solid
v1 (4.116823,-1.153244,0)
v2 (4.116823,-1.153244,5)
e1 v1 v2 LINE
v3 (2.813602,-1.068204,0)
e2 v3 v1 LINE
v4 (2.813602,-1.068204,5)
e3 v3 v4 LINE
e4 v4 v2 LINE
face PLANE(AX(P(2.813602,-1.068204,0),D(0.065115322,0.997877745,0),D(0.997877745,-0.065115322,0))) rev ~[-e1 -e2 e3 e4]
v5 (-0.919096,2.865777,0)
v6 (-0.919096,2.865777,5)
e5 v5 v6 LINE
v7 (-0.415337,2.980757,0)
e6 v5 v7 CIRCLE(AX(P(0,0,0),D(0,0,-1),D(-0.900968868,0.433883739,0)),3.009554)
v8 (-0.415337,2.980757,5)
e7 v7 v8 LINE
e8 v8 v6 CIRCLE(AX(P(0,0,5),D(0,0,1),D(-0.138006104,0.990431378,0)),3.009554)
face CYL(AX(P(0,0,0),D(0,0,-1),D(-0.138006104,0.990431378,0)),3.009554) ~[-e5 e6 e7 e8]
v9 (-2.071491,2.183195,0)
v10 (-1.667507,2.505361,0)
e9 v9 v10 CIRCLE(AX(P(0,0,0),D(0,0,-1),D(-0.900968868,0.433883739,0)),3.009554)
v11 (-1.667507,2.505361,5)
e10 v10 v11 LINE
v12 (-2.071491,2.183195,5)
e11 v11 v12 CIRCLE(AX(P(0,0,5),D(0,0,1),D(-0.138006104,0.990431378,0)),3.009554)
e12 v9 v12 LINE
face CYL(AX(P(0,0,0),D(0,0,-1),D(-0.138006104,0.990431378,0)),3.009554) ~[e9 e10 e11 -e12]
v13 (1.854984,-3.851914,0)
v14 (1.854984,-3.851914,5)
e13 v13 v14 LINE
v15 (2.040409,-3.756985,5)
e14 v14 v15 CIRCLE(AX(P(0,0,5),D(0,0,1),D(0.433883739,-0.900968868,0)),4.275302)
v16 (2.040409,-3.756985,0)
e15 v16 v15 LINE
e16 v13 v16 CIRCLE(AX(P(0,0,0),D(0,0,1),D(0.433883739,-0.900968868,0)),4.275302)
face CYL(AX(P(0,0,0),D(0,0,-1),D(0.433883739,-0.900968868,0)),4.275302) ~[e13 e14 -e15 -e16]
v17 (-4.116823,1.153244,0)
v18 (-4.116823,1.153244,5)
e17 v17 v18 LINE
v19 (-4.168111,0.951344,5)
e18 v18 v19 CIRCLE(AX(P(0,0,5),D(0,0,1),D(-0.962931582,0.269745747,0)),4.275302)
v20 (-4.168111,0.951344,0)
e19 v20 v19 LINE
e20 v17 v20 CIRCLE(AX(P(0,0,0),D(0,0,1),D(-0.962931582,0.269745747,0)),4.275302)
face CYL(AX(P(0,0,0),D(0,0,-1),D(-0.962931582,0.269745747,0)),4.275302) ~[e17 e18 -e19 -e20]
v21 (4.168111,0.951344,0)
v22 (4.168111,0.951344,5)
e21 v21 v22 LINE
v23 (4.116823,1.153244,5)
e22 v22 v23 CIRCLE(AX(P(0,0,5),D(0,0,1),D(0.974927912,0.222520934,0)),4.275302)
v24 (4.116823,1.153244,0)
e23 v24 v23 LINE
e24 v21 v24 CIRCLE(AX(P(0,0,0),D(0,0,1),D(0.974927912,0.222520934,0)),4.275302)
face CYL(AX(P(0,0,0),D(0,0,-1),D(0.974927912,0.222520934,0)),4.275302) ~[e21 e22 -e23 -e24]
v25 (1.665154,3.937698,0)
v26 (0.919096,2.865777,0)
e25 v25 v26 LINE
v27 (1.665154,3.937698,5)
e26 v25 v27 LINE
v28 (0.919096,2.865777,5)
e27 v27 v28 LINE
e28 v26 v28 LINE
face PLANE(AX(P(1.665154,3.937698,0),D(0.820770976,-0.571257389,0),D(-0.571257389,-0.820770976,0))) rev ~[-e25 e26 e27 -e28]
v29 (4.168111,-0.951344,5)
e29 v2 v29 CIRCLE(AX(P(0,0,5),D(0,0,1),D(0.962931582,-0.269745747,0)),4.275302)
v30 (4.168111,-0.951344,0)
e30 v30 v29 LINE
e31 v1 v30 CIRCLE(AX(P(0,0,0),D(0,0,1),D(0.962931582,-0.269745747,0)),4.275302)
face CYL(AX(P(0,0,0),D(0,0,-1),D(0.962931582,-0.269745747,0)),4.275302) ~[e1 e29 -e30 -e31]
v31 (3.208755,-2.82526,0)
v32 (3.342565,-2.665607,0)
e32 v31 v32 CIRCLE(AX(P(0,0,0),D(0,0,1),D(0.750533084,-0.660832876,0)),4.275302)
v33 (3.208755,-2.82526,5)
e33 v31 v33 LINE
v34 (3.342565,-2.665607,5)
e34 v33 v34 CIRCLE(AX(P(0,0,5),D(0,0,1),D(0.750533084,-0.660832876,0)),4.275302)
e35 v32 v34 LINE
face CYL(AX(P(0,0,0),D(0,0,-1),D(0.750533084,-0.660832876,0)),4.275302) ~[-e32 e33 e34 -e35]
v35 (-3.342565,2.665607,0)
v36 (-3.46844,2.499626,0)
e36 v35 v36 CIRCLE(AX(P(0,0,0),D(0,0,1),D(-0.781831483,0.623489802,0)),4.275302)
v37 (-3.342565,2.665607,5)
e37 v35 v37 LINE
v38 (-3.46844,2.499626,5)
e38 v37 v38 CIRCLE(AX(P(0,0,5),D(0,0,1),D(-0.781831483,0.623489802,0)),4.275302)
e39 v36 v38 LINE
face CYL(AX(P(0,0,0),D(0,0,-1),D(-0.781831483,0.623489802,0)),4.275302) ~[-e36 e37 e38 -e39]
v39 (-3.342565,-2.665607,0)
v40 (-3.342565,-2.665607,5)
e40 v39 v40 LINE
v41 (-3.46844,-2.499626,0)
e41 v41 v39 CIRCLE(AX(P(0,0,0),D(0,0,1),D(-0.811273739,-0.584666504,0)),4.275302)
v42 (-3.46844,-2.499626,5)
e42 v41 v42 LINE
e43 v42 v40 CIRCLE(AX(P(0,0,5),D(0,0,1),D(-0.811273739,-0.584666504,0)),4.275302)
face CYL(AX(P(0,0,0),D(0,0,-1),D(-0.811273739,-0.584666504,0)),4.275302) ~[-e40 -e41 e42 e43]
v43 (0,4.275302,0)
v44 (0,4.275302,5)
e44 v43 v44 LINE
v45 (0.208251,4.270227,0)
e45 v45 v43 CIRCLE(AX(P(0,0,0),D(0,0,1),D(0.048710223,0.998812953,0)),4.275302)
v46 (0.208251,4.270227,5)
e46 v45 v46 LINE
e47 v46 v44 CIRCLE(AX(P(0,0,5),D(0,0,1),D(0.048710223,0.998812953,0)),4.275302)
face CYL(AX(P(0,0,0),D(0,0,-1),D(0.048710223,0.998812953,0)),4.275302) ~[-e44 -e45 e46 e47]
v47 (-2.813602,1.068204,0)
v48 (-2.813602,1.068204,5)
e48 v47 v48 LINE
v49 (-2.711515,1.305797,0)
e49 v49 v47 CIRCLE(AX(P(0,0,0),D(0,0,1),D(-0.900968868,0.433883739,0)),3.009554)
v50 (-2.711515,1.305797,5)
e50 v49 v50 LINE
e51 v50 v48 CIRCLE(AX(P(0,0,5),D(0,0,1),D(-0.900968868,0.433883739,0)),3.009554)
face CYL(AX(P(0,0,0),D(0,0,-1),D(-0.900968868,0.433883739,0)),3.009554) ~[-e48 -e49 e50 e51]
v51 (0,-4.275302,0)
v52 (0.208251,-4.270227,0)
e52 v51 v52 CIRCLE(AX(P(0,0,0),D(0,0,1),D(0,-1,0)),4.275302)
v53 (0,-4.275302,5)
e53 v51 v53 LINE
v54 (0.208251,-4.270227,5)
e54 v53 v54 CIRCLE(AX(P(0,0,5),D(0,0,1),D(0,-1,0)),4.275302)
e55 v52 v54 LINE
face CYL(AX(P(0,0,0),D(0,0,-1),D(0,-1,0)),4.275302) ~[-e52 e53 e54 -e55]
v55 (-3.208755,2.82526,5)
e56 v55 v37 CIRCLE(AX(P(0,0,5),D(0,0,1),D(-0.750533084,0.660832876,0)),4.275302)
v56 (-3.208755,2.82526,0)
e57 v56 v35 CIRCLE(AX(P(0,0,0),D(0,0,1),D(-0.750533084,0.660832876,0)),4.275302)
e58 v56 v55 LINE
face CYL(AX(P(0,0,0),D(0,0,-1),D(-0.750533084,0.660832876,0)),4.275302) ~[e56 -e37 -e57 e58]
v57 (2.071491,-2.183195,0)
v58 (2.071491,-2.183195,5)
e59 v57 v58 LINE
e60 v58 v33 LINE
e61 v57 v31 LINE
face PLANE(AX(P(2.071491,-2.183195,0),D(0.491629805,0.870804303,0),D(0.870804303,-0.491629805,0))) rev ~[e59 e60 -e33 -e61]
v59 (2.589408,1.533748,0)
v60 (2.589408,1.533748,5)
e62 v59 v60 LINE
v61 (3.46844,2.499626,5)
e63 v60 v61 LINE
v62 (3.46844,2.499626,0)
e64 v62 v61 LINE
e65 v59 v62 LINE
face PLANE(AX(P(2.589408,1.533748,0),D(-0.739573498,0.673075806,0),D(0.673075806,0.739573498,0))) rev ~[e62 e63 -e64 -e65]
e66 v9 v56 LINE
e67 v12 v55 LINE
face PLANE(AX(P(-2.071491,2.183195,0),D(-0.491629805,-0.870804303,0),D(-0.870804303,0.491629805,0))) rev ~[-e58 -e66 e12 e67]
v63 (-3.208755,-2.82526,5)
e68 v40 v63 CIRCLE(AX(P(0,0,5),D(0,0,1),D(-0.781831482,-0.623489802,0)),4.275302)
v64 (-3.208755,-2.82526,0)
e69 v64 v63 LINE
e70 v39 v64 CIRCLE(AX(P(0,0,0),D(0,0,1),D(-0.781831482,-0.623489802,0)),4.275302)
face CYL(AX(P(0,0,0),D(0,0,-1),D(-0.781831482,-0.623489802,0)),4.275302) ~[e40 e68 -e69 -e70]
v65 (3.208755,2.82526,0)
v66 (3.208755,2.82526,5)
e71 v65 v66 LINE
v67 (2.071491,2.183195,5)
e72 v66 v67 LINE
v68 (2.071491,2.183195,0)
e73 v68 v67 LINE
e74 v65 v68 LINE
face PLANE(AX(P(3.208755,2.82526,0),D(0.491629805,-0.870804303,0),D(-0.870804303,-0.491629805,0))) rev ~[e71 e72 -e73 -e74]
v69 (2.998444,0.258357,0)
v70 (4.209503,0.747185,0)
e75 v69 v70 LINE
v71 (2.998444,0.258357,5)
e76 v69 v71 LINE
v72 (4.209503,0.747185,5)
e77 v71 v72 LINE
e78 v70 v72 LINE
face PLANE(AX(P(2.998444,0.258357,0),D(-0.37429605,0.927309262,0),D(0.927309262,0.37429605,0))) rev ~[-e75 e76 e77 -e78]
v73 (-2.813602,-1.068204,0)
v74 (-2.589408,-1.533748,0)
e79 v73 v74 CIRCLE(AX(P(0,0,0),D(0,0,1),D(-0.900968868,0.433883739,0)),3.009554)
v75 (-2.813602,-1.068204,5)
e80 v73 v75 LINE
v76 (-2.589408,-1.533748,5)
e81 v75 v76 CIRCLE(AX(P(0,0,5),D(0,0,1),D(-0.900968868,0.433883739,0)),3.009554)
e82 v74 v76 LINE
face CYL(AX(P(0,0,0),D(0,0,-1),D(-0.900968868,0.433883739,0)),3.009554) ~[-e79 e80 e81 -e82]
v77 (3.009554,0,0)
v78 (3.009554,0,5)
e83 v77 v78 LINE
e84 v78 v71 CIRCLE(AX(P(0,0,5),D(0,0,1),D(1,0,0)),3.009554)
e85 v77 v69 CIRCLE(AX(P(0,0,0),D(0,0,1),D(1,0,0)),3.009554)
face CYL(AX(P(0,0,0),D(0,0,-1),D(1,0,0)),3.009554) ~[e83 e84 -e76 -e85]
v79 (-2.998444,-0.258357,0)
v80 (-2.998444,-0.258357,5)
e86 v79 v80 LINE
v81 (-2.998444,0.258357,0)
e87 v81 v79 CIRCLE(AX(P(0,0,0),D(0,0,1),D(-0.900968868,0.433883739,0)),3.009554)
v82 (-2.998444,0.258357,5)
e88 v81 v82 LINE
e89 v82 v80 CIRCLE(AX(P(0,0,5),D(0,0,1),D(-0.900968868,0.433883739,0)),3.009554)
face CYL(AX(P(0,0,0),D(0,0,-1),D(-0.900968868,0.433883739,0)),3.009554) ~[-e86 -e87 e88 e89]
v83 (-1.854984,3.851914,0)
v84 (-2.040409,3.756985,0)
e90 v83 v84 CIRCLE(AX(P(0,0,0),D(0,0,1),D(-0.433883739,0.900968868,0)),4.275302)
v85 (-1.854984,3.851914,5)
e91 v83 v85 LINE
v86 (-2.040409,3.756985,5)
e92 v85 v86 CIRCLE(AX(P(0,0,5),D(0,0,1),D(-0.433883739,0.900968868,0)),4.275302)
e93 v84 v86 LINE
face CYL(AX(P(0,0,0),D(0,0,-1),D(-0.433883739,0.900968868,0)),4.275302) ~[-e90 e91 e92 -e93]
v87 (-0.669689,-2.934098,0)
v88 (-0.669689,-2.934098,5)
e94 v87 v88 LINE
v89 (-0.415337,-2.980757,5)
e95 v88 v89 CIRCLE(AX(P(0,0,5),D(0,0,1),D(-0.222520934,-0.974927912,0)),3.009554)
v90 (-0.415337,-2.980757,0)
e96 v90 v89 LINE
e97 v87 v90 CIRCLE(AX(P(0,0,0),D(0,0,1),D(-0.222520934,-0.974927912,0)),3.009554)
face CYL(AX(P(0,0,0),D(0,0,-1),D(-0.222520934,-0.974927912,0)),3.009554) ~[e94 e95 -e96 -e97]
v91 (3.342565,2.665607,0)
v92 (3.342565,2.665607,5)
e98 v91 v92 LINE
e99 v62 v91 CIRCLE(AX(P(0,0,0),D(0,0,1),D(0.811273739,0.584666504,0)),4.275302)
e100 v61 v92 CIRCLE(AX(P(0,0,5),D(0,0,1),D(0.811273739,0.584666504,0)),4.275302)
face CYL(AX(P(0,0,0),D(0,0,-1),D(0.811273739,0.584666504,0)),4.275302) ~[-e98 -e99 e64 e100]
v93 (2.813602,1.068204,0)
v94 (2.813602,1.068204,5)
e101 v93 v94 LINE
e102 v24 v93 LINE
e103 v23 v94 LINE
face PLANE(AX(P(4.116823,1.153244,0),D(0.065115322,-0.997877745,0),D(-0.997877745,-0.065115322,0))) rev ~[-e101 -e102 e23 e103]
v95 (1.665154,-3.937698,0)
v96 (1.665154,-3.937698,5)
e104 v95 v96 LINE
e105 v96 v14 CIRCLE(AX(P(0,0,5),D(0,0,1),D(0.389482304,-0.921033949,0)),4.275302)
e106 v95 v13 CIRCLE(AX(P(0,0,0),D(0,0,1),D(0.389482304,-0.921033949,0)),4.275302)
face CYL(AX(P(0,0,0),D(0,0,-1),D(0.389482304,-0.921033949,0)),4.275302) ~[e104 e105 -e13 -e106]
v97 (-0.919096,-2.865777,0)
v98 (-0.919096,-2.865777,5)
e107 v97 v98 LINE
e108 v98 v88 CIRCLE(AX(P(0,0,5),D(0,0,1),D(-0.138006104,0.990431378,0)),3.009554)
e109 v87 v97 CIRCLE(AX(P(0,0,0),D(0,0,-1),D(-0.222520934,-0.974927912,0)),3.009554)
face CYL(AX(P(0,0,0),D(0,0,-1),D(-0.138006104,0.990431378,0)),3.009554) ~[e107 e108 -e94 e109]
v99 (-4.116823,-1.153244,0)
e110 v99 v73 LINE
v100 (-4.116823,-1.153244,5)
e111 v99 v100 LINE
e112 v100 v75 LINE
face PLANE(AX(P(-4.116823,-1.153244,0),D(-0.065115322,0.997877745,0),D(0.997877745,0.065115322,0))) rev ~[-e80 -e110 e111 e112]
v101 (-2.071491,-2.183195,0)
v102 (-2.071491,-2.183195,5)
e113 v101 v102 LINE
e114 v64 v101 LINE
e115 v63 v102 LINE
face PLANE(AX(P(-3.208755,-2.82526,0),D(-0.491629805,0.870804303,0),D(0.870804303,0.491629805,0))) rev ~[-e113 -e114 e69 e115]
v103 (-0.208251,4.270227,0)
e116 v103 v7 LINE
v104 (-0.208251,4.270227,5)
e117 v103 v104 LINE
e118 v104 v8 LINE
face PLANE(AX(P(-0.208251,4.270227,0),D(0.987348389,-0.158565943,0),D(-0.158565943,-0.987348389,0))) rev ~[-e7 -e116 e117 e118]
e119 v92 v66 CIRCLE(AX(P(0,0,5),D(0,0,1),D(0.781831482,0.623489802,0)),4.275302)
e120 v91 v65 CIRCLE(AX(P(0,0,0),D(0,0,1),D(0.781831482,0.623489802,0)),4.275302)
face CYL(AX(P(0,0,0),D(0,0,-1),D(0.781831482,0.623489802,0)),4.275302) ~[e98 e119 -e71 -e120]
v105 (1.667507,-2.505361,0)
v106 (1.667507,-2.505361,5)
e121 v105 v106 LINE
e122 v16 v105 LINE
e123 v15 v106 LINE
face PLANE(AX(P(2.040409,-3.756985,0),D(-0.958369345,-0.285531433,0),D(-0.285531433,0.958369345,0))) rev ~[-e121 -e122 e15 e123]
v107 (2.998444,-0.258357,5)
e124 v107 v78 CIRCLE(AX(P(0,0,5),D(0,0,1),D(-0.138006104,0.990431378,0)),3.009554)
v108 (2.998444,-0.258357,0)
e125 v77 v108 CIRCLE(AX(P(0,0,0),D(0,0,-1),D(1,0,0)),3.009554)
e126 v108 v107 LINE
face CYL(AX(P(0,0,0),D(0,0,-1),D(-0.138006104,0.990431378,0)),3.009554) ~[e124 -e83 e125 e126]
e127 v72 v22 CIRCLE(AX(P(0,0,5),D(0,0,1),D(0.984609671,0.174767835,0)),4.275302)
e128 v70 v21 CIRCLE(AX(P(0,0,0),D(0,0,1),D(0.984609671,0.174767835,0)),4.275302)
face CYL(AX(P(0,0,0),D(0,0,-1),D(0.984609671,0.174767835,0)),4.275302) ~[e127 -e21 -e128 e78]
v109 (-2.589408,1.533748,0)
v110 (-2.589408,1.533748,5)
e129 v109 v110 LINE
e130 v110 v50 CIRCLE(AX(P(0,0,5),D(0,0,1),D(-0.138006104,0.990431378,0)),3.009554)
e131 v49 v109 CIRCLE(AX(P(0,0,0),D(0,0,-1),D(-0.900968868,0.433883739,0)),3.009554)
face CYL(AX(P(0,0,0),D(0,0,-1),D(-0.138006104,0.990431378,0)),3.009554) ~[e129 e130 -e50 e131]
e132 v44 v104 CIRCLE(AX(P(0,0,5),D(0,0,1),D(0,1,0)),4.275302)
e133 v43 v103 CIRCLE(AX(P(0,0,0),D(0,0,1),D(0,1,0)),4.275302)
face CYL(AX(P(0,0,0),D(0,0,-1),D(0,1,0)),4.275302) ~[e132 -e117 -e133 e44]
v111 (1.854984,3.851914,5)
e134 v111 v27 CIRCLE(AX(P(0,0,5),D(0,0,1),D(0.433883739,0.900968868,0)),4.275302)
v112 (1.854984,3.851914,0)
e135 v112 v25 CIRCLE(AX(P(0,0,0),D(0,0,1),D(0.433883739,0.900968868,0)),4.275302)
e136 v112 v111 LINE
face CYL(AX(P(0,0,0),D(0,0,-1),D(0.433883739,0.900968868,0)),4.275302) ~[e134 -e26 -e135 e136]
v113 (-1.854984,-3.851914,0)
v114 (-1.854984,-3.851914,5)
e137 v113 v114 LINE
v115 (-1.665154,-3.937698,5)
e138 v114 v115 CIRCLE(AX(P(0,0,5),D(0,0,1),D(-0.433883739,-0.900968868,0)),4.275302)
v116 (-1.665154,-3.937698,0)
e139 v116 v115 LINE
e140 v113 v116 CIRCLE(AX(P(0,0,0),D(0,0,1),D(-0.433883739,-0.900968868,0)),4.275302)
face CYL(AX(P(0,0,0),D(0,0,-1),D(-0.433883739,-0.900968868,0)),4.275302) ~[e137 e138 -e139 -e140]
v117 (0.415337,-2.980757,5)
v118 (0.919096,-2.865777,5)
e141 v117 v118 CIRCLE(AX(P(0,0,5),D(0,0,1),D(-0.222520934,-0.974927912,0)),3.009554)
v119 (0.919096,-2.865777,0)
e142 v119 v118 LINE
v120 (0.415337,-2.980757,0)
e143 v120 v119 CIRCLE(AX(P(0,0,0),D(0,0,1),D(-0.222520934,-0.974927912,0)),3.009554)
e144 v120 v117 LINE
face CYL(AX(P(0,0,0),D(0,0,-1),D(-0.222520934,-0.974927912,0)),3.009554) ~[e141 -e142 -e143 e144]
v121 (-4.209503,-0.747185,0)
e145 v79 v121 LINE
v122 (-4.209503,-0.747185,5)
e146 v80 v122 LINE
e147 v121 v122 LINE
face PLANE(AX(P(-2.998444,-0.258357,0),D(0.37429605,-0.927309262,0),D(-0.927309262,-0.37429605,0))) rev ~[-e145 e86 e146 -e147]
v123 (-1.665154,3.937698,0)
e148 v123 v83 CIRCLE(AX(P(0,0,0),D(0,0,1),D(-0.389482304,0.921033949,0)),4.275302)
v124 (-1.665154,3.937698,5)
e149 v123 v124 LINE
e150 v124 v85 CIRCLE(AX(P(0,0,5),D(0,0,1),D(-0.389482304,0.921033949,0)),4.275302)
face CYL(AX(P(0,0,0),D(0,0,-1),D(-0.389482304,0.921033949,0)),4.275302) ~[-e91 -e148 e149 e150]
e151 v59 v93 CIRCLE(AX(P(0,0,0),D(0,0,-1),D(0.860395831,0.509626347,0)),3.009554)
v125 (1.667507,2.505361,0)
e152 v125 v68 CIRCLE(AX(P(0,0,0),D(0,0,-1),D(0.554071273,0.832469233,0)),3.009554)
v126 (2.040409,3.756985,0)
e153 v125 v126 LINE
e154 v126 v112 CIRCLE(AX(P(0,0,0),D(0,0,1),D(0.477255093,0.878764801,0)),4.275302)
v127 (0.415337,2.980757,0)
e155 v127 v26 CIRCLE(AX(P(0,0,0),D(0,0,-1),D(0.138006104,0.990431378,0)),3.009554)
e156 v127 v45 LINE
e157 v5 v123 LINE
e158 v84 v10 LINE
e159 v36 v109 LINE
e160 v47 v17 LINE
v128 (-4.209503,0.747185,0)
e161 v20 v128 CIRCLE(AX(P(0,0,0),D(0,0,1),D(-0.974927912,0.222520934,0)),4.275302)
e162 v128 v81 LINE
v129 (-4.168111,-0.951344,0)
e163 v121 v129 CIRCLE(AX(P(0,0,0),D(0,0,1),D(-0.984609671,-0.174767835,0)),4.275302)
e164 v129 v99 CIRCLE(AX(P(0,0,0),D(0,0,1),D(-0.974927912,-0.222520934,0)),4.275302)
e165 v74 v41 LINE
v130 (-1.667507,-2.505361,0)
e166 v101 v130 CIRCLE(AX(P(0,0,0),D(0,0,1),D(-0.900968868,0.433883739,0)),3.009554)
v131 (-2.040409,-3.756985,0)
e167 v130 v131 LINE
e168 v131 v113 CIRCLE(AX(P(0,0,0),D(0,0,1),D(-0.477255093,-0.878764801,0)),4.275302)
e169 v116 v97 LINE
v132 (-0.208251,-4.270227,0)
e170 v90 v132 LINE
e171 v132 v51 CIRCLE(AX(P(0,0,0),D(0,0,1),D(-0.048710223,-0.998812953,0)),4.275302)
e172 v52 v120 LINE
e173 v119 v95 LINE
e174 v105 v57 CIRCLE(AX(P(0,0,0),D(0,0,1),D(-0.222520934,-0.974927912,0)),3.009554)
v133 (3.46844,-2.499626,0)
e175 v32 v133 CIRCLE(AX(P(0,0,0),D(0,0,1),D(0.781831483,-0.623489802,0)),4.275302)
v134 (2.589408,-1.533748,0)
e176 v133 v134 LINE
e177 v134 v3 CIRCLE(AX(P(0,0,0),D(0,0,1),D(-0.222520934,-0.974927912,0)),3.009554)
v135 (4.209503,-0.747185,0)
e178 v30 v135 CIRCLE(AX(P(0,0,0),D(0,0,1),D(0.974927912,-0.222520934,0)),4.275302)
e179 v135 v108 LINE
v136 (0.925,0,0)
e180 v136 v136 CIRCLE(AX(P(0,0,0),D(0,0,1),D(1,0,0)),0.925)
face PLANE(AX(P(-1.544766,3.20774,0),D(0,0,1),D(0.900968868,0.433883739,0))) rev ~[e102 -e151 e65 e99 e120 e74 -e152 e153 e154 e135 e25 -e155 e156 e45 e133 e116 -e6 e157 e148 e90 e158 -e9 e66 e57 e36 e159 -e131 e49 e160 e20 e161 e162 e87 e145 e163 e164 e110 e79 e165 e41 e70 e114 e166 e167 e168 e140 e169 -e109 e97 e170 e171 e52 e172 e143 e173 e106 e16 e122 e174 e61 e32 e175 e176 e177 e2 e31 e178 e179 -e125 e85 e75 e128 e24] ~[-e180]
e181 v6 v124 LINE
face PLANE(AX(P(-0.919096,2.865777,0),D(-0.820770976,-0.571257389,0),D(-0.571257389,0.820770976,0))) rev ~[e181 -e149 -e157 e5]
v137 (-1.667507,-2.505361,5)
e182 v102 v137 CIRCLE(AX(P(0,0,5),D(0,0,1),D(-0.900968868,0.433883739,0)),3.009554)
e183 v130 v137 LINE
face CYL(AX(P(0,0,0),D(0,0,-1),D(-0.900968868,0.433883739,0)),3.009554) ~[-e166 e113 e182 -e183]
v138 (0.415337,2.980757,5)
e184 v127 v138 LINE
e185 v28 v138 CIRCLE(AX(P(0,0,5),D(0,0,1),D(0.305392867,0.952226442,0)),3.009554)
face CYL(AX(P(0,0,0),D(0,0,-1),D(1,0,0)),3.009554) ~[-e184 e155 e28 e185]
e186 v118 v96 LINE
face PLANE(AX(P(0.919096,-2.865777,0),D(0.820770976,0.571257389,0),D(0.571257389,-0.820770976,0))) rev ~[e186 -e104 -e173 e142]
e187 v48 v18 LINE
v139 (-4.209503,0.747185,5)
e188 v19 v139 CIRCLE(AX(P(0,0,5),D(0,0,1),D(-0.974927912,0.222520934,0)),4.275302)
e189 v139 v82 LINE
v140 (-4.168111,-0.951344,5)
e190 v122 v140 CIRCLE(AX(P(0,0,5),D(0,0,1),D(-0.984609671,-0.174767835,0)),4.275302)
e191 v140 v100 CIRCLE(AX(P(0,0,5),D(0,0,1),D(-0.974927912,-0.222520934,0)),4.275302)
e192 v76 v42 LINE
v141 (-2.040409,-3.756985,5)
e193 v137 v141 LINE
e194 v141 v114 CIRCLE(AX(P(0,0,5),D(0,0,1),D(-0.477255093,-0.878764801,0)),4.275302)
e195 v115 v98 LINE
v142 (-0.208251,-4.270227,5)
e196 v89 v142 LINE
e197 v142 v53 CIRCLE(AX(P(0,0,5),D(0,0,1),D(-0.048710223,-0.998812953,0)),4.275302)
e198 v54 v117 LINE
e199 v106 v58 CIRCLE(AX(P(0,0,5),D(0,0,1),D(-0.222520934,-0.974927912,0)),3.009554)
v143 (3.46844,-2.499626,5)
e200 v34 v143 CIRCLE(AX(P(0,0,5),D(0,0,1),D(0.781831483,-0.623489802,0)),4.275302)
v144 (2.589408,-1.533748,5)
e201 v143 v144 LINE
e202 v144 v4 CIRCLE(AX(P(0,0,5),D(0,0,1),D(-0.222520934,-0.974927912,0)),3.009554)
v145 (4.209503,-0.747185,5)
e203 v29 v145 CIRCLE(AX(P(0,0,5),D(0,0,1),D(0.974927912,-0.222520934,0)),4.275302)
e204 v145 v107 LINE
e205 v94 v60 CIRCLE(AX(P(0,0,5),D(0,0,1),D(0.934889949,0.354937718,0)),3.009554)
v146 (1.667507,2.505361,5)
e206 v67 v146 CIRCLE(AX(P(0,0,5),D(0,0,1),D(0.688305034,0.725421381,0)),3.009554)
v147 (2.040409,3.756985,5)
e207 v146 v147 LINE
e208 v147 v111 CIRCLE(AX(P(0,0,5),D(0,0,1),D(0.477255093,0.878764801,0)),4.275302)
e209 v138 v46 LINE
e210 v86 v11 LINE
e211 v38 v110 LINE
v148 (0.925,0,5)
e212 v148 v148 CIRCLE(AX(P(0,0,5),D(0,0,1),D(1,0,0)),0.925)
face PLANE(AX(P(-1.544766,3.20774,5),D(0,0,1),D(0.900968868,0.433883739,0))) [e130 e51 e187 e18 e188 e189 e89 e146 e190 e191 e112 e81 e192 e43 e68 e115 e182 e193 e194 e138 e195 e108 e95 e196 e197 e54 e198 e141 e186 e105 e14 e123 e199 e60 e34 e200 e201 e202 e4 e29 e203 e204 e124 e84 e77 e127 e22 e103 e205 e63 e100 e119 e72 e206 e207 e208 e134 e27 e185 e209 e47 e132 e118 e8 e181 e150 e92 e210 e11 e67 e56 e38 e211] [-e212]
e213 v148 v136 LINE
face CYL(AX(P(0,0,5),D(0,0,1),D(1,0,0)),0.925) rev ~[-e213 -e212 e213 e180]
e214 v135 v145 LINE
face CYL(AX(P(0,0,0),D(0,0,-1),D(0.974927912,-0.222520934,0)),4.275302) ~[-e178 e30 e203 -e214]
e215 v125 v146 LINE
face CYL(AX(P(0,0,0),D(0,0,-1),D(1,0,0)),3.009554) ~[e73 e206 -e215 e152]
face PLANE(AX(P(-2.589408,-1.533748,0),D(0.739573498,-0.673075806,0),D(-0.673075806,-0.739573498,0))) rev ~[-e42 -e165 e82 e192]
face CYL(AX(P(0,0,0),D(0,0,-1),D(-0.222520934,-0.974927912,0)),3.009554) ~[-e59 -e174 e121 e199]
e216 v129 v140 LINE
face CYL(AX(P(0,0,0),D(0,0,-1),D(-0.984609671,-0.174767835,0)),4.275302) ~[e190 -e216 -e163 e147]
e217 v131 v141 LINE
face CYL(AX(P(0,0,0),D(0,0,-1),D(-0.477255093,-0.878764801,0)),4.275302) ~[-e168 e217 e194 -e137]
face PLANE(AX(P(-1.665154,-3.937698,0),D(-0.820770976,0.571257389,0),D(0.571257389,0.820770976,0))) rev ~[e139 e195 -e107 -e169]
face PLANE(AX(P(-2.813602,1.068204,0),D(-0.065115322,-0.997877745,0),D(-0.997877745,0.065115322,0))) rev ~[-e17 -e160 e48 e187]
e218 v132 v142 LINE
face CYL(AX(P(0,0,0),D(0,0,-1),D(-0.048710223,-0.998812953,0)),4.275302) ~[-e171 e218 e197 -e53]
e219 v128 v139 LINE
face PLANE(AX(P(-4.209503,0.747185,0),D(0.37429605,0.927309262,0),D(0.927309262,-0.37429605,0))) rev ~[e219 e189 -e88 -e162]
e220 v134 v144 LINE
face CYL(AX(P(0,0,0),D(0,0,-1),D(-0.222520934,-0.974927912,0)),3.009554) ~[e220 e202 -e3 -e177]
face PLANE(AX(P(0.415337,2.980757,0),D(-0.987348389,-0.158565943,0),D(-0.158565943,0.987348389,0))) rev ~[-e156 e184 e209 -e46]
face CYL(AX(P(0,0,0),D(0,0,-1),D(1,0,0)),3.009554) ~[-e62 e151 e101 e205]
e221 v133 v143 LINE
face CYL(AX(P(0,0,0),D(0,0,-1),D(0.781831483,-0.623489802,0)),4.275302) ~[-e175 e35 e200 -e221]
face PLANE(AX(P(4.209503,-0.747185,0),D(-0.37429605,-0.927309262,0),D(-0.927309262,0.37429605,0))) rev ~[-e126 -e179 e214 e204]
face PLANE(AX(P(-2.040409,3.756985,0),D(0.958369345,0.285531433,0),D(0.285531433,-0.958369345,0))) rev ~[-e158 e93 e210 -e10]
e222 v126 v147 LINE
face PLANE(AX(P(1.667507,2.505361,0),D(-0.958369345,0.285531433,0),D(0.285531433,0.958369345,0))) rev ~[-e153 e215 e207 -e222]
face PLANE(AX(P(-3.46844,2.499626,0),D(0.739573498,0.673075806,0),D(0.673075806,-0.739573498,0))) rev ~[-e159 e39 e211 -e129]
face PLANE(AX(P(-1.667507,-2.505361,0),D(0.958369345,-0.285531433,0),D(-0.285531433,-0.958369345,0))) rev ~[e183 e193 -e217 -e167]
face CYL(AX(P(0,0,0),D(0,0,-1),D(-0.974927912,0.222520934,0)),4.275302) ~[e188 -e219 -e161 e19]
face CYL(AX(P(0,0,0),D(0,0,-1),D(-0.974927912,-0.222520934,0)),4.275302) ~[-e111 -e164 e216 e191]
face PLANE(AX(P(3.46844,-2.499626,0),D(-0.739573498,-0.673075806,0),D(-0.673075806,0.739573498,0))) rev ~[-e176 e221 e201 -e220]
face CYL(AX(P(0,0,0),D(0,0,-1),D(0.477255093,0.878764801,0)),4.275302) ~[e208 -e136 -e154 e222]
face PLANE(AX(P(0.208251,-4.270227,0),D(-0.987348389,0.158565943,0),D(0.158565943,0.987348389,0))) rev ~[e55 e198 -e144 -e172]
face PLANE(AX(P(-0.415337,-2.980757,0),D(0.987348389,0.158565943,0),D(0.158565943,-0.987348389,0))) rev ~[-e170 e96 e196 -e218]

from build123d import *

# Parameters (mm, degrees)
F3_DEPTH = 5
F4_DEPTH = 5
F5_COUNT = 14
F6_R     = 0.925
F7_DEPTH = 5.001


with BuildPart() as f3:
    # F1 (on Top) → F3 (new body)
    with BuildSketch(Plane.XY):
        with BuildLine():
            ThreePointArc((-0.4153368417, 2.9807568553), (-1.9757830613, -2.2701756357), (3.0095541401, 0))
            ThreePointArc((3.0095541401, 0), (2.2701756357, 1.9757830613), (0.4153368417, 2.9807568553))
            ThreePointArc((0.4153368417, 2.9807568553), (0.2081669857, 3.0023461873), (0, 3.0095541401))
            ThreePointArc((0, 3.0095541401), (-0.2081669857, 3.0023461873), (-0.4153368417, 2.9807568553))
        make_face()
    extrude(amount=F3_DEPTH)

    # F1 (on Top) → F4 (join)
    with BuildSketch(Plane.XY):
        with BuildLine():
            ThreePointArc((0, 3.0095541401), (0.2081669857, 3.0023461873), (0.4153368417, 2.9807568553))
            Line((0.4153368417, 2.9807568553), (0.208250893, 4.2702265482))
            ThreePointArc((0.208250893, 4.2702265482), (0.1041563607, 4.2740325993), (0, 4.2753015341))
            ThreePointArc((0, 4.2753015341), (-0.1041563607, 4.2740325993), (-0.208250893, 4.2702265482))
            Line((-0.208250893, 4.2702265482), (-0.4153368417, 2.9807568553))
            ThreePointArc((-0.4153368417, 2.9807568553), (-0.2081669857, 3.0023461873), (0, 3.0095541401))
        make_face()
    extrude(amount=F4_DEPTH)

    # F5: F3 ×14 about axis
    f5_axis = Axis((0, 0, 3.5011740401), (0, 0, -1))


with BuildPart() as f3_1:
    add(f3.part)
    for i in range(1, F5_COUNT):
        add(f3.part.rotate(f5_axis, i * 360 / F5_COUNT))

    # F6 (on face) → F7 (cut, through all)
    with BuildSketch(Plane.XY.offset(5)):
        Circle(F6_R)
    extrude(amount=-F7_DEPTH, mode=Mode.SUBTRACT)


solid = f3_1.part
